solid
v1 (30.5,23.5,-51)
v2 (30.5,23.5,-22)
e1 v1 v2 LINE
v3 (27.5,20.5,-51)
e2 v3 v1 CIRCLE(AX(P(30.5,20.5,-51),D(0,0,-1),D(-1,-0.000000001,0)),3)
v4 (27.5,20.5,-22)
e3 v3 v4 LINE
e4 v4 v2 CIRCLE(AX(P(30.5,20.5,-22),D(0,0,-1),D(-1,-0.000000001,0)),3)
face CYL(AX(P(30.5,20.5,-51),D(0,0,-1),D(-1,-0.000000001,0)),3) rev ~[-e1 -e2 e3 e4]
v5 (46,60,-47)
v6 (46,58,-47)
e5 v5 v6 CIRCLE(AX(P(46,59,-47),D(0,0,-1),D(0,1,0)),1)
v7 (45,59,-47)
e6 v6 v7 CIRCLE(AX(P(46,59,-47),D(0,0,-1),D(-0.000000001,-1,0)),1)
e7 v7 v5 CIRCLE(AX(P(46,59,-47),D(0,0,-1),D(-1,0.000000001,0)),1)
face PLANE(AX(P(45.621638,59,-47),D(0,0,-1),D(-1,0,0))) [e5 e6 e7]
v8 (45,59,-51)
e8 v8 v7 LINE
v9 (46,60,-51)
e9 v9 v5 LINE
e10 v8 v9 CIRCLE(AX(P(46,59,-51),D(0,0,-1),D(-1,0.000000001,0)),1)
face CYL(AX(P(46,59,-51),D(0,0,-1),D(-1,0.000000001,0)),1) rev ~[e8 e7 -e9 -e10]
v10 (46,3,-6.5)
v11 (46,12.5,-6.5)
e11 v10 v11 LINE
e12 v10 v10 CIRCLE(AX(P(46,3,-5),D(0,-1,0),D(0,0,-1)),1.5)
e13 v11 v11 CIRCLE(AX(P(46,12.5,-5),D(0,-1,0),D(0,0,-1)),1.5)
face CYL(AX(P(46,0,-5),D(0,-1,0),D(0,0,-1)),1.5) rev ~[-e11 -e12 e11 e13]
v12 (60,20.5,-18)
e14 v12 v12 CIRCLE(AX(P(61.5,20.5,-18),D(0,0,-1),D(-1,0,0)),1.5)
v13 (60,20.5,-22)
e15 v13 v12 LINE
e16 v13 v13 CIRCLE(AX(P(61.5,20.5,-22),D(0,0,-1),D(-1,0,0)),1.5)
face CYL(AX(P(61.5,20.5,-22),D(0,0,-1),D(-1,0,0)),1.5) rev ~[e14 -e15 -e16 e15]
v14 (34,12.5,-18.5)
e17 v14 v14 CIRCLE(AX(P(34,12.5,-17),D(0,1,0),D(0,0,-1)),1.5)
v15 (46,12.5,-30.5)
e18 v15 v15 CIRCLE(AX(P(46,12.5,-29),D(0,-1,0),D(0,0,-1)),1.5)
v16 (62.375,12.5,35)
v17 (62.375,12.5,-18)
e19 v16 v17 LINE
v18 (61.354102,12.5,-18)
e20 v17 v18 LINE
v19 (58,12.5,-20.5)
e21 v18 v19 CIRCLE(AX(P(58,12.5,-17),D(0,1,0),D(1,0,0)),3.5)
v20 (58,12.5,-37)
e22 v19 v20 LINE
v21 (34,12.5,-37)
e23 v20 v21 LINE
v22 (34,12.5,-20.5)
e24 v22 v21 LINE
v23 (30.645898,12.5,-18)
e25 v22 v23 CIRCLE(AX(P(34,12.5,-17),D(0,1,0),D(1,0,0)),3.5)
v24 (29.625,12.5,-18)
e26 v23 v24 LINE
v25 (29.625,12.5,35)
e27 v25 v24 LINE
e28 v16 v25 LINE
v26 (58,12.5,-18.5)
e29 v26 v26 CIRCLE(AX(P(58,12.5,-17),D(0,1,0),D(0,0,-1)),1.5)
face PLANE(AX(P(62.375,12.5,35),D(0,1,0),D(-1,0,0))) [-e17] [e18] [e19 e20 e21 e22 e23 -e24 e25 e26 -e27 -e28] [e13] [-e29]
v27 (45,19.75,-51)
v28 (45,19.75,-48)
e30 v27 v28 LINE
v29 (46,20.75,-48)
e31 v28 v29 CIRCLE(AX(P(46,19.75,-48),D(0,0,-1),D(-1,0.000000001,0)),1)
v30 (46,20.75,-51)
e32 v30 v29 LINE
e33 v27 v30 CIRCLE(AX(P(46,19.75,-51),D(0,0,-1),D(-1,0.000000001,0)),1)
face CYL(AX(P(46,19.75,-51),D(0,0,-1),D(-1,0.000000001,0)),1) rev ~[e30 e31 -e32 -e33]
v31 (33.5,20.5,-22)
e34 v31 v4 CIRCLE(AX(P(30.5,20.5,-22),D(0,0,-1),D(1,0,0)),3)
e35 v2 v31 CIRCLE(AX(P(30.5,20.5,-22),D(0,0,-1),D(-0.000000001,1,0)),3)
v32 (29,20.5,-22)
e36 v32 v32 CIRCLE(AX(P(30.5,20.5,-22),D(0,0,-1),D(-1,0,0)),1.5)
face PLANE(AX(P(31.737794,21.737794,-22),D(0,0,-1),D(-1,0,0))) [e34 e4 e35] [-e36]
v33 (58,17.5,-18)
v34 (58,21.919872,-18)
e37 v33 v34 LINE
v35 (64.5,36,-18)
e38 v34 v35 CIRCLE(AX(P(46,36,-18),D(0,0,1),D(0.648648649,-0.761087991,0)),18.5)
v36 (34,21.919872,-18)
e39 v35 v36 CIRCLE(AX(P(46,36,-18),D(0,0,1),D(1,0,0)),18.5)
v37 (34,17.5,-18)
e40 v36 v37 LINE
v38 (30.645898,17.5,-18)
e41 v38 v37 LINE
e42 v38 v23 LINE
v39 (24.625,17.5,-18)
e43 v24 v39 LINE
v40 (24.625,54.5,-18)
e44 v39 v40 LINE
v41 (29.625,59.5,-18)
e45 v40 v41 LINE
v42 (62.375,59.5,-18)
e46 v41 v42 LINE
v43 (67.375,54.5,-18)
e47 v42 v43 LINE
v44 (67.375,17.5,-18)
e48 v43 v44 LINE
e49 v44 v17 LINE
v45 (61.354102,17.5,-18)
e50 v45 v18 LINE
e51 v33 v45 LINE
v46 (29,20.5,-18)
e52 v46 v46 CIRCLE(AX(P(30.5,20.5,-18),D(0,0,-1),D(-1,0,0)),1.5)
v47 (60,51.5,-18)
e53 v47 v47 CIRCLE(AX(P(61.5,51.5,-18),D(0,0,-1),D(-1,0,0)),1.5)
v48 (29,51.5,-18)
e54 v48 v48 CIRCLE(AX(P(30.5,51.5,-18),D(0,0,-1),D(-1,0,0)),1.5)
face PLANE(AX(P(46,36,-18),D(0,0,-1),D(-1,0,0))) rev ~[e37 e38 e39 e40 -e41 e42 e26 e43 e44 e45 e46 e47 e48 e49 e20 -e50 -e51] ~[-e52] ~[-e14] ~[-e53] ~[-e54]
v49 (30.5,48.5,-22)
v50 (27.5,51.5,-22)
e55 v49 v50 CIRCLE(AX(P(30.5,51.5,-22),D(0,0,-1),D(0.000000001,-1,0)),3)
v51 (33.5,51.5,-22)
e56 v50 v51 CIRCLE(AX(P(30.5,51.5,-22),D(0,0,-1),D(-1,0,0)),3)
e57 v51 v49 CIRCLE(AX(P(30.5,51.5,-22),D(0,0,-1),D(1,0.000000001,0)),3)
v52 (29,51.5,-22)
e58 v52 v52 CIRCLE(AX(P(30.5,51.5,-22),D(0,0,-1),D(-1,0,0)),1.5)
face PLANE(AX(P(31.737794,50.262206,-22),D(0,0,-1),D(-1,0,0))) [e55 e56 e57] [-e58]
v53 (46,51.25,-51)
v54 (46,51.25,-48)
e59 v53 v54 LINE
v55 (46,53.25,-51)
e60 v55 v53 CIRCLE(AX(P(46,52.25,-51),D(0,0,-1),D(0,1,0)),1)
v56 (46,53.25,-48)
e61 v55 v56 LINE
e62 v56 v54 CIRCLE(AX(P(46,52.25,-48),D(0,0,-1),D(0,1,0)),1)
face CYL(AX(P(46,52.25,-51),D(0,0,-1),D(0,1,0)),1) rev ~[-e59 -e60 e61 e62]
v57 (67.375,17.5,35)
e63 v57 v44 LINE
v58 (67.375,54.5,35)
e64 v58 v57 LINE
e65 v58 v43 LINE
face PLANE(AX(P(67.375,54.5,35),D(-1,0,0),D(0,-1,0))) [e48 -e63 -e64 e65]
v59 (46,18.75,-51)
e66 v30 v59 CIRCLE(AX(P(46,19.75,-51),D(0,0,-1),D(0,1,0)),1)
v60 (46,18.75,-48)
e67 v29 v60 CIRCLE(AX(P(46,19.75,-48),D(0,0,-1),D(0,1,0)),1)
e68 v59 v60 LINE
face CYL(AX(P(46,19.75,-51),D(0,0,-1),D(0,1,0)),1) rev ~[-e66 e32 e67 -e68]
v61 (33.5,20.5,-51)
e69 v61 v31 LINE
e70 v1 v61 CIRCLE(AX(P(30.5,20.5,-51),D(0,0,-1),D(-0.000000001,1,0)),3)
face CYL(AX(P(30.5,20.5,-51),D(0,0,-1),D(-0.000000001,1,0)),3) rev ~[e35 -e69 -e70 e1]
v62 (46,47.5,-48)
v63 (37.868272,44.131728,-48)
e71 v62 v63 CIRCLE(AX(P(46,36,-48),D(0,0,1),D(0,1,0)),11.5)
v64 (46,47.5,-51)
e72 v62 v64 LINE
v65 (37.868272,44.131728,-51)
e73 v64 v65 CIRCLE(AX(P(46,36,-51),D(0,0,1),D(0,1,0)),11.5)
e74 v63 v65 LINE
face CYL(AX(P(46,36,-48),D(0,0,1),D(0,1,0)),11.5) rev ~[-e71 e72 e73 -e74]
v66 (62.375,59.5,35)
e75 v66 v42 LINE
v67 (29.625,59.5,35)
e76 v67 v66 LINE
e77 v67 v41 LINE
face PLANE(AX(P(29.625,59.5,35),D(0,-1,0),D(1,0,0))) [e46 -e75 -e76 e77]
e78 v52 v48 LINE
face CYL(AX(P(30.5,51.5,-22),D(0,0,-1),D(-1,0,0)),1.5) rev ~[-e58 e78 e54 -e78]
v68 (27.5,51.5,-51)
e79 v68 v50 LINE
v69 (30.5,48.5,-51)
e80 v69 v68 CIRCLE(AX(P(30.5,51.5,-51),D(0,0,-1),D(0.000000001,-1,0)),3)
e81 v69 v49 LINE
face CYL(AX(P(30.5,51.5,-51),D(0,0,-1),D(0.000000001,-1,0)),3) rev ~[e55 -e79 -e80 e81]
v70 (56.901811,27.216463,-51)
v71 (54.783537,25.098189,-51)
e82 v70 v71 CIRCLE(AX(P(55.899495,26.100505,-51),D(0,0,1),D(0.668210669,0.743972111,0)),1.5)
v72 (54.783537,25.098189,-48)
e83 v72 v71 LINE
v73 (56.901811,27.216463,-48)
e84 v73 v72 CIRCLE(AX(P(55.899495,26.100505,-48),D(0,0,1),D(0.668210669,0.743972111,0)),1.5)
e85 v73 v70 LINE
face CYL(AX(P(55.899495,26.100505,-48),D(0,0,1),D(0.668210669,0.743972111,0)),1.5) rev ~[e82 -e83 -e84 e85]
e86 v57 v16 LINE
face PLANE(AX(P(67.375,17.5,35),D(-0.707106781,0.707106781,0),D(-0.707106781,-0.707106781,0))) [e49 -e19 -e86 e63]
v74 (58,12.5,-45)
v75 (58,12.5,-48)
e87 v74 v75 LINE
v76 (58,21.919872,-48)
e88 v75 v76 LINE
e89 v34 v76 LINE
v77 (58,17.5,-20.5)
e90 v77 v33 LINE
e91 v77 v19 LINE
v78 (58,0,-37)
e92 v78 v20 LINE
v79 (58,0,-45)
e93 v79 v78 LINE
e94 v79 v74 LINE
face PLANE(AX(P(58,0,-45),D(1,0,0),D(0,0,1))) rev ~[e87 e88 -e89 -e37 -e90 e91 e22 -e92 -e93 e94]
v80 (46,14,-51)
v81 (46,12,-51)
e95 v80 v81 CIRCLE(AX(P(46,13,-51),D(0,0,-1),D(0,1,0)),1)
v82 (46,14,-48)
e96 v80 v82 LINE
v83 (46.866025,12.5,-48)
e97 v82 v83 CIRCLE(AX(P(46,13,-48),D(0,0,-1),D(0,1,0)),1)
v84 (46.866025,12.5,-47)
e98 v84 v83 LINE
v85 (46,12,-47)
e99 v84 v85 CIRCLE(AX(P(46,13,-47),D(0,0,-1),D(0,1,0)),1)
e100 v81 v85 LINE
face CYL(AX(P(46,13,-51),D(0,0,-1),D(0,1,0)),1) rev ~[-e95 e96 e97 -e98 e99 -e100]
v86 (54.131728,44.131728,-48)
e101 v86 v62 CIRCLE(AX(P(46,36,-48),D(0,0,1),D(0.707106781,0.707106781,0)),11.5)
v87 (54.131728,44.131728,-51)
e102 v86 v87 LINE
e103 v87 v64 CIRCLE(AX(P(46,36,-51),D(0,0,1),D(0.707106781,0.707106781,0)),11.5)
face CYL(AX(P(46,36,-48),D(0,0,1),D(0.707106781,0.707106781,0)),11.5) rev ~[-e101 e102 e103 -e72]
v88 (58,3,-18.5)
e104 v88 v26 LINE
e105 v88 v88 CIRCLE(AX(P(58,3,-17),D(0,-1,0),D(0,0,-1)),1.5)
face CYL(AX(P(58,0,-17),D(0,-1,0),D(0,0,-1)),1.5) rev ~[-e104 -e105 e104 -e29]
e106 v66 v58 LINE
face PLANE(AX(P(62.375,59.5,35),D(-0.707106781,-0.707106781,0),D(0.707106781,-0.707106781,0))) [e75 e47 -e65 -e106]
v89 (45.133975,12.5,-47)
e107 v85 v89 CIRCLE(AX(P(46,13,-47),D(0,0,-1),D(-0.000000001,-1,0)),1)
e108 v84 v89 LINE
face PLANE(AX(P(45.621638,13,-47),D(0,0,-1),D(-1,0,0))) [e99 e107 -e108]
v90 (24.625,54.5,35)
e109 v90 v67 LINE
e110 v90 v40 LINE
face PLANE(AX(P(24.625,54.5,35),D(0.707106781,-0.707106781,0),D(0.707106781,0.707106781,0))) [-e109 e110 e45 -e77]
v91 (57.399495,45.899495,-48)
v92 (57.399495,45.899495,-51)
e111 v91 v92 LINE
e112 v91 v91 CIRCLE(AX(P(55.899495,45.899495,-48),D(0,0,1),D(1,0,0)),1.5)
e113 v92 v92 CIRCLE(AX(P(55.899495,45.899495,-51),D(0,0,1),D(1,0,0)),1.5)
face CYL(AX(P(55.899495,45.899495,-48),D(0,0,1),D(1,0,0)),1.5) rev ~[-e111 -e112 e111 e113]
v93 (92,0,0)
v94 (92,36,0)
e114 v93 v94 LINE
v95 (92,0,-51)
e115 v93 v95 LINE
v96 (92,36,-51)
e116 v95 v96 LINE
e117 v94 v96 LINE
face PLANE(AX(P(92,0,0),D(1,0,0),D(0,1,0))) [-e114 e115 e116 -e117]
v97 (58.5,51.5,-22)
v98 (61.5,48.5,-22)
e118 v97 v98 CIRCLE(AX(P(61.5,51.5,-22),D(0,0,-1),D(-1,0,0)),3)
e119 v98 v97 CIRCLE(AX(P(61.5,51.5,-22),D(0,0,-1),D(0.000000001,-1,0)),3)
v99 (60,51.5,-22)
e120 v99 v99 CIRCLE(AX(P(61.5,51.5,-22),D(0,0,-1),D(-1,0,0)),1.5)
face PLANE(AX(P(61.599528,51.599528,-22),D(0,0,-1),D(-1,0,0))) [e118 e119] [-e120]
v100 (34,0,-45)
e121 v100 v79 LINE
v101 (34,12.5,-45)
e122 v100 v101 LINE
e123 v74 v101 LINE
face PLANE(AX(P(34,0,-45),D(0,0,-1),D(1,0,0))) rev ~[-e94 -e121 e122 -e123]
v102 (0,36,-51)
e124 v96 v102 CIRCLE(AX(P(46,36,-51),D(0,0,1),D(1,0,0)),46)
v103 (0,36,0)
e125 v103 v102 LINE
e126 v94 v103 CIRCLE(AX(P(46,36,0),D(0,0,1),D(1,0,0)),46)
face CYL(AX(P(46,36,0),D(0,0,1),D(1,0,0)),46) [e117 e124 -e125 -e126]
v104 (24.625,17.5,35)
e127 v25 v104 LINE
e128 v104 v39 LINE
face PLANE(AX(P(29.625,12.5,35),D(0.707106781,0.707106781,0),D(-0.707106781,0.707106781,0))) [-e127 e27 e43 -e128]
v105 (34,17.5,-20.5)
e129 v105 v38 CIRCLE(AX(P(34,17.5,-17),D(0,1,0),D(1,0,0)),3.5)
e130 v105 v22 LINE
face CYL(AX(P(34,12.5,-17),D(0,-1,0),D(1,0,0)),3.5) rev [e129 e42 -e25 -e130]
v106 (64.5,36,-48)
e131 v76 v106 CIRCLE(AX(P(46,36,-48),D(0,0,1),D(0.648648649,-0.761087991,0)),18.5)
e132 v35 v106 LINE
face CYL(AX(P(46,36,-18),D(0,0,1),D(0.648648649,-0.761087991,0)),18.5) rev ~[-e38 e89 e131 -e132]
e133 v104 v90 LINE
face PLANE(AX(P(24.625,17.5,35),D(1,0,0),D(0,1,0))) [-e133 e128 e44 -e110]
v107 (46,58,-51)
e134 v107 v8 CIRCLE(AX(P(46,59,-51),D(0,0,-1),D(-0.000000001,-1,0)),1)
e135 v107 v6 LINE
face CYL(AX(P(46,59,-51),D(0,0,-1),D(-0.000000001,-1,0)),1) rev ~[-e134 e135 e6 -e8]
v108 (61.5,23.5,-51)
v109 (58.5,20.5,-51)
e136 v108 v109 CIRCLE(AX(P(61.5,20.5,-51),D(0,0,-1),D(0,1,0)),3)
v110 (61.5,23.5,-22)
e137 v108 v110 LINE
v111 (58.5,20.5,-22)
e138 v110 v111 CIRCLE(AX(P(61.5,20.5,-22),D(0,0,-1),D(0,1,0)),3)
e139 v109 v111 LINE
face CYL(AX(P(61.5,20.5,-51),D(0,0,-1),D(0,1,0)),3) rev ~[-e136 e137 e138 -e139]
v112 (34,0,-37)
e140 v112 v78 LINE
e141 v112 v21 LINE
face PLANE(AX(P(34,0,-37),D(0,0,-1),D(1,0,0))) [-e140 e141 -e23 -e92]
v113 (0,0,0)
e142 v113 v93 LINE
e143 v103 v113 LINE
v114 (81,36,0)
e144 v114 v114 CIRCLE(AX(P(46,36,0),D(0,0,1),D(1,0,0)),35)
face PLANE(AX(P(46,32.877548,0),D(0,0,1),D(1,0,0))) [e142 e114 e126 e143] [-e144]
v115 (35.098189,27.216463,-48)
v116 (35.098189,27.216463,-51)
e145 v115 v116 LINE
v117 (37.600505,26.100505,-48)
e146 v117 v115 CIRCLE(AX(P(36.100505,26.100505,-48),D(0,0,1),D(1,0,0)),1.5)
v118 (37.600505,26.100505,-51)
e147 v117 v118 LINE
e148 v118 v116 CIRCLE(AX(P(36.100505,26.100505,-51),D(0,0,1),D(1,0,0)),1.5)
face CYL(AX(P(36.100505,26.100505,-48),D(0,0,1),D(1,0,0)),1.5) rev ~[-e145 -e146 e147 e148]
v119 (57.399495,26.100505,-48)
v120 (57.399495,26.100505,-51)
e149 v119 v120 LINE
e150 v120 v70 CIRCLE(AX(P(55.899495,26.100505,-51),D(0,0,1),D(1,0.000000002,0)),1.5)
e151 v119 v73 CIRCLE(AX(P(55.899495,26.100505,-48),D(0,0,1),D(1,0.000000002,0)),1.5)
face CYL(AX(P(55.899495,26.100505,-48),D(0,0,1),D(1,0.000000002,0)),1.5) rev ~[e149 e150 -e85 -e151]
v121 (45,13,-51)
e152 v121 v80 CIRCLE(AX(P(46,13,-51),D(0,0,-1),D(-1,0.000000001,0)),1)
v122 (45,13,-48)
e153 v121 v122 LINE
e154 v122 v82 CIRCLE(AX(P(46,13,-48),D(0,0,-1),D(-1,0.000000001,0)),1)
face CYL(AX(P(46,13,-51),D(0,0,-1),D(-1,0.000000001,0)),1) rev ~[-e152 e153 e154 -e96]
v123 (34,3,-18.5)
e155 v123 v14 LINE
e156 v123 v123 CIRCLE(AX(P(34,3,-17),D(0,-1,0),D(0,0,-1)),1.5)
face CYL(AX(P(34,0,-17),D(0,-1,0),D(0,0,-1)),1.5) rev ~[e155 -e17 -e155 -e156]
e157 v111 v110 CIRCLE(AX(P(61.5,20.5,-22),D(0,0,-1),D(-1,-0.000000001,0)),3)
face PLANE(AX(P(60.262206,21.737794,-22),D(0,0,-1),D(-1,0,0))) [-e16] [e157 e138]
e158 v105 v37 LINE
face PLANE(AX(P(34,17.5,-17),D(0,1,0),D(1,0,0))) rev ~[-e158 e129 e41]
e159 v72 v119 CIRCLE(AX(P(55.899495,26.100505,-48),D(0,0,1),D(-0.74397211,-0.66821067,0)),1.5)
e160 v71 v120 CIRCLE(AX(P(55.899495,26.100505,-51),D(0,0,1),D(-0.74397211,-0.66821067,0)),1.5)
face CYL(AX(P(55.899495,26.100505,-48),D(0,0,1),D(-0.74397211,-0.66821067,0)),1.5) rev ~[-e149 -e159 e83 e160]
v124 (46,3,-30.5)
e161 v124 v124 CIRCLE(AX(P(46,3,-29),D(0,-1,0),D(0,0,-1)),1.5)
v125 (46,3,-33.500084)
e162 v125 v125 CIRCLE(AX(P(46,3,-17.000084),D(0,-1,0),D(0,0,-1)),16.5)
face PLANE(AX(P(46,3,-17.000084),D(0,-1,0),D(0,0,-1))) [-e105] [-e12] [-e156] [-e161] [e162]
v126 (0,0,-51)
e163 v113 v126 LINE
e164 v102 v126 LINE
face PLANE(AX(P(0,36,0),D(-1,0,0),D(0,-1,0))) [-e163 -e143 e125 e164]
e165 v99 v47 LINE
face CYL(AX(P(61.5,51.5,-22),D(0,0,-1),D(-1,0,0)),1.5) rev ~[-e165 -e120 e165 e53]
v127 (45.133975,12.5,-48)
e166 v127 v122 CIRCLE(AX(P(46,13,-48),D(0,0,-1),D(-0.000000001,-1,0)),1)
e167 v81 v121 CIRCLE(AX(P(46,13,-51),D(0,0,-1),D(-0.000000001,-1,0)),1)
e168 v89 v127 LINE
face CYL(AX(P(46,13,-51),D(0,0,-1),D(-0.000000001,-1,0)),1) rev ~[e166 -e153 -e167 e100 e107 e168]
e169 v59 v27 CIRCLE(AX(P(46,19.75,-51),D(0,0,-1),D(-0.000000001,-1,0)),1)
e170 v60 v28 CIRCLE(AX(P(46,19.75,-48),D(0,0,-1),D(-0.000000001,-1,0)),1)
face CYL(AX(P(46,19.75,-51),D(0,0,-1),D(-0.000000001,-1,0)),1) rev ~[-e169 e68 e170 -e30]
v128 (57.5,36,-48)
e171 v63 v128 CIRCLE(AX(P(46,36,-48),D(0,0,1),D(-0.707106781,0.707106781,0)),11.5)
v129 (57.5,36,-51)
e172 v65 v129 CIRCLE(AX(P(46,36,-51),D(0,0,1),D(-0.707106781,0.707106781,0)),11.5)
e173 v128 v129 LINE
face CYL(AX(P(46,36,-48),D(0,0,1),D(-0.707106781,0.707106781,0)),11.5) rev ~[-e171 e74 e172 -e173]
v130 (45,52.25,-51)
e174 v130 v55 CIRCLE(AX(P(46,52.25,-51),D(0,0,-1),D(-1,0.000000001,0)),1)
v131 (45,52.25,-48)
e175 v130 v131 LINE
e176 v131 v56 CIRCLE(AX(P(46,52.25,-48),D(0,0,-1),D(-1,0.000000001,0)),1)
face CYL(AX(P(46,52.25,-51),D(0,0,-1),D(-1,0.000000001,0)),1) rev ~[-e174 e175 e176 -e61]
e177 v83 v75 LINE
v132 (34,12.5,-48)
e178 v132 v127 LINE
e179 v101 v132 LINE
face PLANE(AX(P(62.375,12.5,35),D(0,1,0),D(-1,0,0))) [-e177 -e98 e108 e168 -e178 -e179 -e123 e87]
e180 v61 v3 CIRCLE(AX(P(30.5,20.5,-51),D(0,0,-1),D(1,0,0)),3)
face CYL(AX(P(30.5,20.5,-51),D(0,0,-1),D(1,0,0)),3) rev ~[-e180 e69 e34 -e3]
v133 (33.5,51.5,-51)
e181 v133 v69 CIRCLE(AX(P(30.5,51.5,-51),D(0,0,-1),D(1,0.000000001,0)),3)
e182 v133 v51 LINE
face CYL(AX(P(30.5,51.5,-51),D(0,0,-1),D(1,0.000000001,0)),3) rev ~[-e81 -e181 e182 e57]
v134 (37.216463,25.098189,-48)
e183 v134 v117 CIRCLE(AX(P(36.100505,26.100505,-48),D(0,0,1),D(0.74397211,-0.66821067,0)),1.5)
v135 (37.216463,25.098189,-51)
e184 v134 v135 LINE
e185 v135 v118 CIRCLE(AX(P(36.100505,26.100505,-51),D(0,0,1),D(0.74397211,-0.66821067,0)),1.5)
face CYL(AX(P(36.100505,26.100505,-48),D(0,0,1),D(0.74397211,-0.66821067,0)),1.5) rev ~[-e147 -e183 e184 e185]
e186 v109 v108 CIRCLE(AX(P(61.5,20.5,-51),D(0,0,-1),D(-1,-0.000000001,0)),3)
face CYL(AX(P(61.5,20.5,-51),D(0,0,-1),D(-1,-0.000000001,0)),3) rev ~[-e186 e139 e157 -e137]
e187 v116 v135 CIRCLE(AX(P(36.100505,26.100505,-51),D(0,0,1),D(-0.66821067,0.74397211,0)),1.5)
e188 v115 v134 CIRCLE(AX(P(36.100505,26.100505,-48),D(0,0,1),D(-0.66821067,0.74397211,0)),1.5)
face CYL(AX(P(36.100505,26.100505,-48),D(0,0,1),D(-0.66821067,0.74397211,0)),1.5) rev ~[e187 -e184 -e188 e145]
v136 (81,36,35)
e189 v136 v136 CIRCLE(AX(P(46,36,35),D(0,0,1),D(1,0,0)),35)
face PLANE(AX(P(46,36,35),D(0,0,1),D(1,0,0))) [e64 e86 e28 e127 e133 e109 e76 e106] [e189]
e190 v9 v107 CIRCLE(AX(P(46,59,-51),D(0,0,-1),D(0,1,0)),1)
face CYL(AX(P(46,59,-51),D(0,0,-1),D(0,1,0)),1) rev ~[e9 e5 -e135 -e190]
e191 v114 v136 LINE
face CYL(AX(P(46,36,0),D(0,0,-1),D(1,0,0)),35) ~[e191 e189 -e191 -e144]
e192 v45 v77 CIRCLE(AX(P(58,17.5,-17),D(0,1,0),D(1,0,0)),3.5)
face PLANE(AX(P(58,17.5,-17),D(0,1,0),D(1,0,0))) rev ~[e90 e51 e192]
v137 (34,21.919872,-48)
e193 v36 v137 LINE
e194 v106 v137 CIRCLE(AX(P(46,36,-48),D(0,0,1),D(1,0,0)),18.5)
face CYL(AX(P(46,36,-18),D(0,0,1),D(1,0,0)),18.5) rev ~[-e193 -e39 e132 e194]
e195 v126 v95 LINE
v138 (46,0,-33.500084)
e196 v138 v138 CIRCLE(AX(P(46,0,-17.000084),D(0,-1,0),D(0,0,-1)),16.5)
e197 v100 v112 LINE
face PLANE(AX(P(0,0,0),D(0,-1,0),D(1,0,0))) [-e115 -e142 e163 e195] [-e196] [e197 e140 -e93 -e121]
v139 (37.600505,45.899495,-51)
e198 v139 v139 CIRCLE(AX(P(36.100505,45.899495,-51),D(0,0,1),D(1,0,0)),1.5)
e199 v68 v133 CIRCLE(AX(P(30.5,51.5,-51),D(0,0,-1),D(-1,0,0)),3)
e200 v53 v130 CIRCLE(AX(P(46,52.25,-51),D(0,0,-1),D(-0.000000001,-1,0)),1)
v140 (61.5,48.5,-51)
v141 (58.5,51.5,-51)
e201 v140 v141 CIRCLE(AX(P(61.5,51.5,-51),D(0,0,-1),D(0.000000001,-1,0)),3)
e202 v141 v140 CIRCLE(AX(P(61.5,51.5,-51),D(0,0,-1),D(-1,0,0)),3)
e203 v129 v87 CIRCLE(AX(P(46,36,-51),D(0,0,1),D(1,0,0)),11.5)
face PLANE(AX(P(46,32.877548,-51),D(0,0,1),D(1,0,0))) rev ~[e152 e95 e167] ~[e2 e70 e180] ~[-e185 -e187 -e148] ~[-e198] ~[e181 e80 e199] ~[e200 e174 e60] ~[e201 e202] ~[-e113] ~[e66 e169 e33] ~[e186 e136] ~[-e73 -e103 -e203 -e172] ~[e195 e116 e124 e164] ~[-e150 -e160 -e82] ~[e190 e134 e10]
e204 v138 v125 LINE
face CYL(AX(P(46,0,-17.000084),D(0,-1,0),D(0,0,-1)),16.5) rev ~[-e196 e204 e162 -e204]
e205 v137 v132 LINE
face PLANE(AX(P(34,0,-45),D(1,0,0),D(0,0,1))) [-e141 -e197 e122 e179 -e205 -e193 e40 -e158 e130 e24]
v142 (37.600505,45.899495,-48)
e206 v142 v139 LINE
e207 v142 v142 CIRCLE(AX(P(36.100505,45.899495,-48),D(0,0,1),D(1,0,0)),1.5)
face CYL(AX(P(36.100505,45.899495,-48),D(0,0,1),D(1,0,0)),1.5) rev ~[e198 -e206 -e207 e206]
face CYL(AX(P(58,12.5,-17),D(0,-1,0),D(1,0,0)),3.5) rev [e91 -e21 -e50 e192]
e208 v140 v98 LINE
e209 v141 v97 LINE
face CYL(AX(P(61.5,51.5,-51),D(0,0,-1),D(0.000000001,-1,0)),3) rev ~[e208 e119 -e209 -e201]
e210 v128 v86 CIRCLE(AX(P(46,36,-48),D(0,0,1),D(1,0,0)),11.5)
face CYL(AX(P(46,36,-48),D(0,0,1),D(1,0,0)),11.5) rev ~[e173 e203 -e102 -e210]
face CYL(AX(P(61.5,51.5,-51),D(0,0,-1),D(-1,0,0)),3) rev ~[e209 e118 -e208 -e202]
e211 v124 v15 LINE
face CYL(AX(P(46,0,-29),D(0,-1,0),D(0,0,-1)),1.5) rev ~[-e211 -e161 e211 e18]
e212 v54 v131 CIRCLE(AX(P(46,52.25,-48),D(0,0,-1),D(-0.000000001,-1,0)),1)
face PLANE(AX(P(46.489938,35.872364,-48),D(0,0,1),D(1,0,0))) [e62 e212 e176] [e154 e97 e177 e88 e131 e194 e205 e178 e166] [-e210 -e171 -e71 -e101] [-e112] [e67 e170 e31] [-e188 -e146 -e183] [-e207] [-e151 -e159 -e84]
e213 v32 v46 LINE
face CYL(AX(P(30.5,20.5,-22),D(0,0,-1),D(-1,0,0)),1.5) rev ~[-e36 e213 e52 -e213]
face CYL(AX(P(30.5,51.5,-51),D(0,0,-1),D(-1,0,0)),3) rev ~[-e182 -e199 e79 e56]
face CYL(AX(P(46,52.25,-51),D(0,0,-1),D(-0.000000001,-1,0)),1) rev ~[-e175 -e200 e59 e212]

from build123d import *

# Parameters (mm, degrees)
SALIENTE_EXTRUIR1_DEPTH = 51
CROQUIS2_R              = 35
SALIENTE_EXTRUIR3_DEPTH = 35
CORTAR_EXTRUIR1_DEPTH   = 53
CORTAR_EXTRUIR2_DEPTH   = 30
CROQUIS6_R              = 1.5
CORTAR_EXTRUIR3_DEPTH   = 27
CORTAR_EXTRUIR4_DEPTH   = 29
CROQUIS8_R              = 1.5
CORTAR_EXTRUIR5_DEPTH   = 136.782914978
CORTAR_EXTRUIR6_DEPTH   = 4
CROQUIS10_R             = 1.5
CORTAR_EXTRUIR7_DEPTH   = 12.5
CROQUIS11_W             = 24
CROQUIS11_H             = 8
CORTAR_EXTRUIR8_DEPTH   = 18
CROQUIS12_R             = 3.5
CORTAR_EXTRUIR9_DEPTH   = 5
CROQUIS13_R             = 16.5
CORTAR_EXTRUIR10_DEPTH  = 3


with BuildPart() as part:
    # Croquis1 → Saliente-Extruir1 (new body)
    with BuildSketch(Plane.XY):
        with BuildLine():
            Line((0, 0), (92, 0))
            Line((92, 0), (92, 36))
            ThreePointArc((92, 36), (46, 82), (0, 36))
            Line((0, 36), (0, 0))
        make_face()
    extrude(amount=-SALIENTE_EXTRUIR1_DEPTH)

    # Croquis2 → Saliente-Extruir3 (add)
    with BuildSketch(Plane.XY):
        with Locations((46, 36)):
            Circle(CROQUIS2_R)
    extrude(amount=SALIENTE_EXTRUIR3_DEPTH)

    # Croquis4 → Cortar-Extruir1 (cut)
    with BuildSketch(Plane.XY.offset(35)):
        Polygon((24.625, 54.5), (29.625, 59.5), (62.375, 59.5), (67.375, 54.5), (67.375, 17.5), (62.375, 12.5), (29.625, 12.5), (24.625, 17.5), align=None)
    extrude(amount=-CORTAR_EXTRUIR1_DEPTH, mode=Mode.SUBTRACT)

    # Croquis5 → Cortar-Extruir2 (cut)
    with BuildSketch(Plane.XY.offset(-18)):
        with BuildLine():
            ThreePointArc((64.5, 36), (38.24596879, 52.796577032), (34, 21.91987216))
            Line((34, 21.91987216), (58, 21.91987216))
            ThreePointArc((58, 21.91987216), (62.796577032, 28.24596879), (64.5, 36))
        make_face()
        with BuildLine():
            Line((58, 21.91987216), (34, 21.91987216))
            ThreePointArc((34, 21.91987216), (46, 17.5), (58, 21.91987216))
        make_face()
        with BuildLine():
            Line((34, 21.91987216), (34, 12.5))
            Line((34, 12.5), (58, 12.5))
            Line((58, 12.5), (58, 21.91987216))
            ThreePointArc((58, 21.91987216), (46, 17.5), (34, 21.91987216))
        make_face()
    extrude(amount=-CORTAR_EXTRUIR2_DEPTH, mode=Mode.SUBTRACT)

    # Croquis6 → Cortar-Extruir3 (cut)
    with BuildSketch(Plane.XY.offset(-48)):
        with BuildLine():
            ThreePointArc((37.600505063, 26.100505063), (36.711457596, 27.470445574), (35.098189059, 27.216463229))
            ThreePointArc((35.098189059, 27.216463229), (36.100505063, 26.100505063), (37.216463229, 25.098189059))
            ThreePointArc((37.216463229, 25.098189059), (37.501207967, 25.563819517), (37.600505063, 26.100505063))
        make_face()
        with BuildLine():
            ThreePointArc((37.216463229, 25.098189059), (36.100505063, 26.100505063), (35.098189059, 27.216463229))
            ThreePointArc((35.098189059, 27.216463229), (35.039844892, 25.039844892), (37.216463229, 25.098189059))
        make_face()
        with BuildLine():
            ThreePointArc((57.399494937, 26.100505063), (57.269435447, 26.711457596), (56.901810941, 27.216463229))
            ThreePointArc((56.901810941, 27.216463229), (55.899494937, 26.100505063), (54.783536771, 25.098189059))
            ThreePointArc((54.783536771, 25.098189059), (56.436180483, 24.69980216), (57.399494937, 26.100505063))
        make_face()
        with BuildLine():
            ThreePointArc((54.783536771, 25.098189059), (55.899494937, 26.100505063), (56.901810941, 27.216463229))
            ThreePointArc((56.901810941, 27.216463229), (54.838834765, 27.161165235), (54.783536771, 25.098189059))
        make_face()
        with Locations((55.899494937, 45.899494937)):
            Circle(CROQUIS6_R)
        with BuildLine():
            Line((54.131727984, 44.131727984), (46, 36))
            Line((46, 36), (37.868272016, 44.131727984))
            ThreePointArc((37.868272016, 44.131727984), (41.599140528, 25.375385376), (57.5, 36))
            ThreePointArc((57.5, 36), (56.624614624, 40.400859472), (54.131727984, 44.131727984))
        make_face()
        with BuildLine():
            Line((46, 47.5), (46, 36))
            Line((46, 36), (54.131727984, 44.131727984))
            ThreePointArc((54.131727984, 44.131727984), (50.400859472, 46.624614624), (46, 47.5))
        make_face()
        with BuildLine():
            Line((37.868272016, 44.131727984), (46, 36))
            Line((46, 36), (46, 47.5))
            ThreePointArc((46, 47.5), (41.599140528, 46.624614624), (37.868272016, 44.131727984))
        make_face()
        with Locations((36.100505063, 45.899494937)):
            Circle(CROQUIS6_R)
    extrude(amount=-CORTAR_EXTRUIR3_DEPTH, mode=Mode.SUBTRACT)

    # Croquis7 → Cortar-Extruir4 (cut)
    with BuildSketch(Plane(origin=(0, 0, -51), x_dir=(-1, 0, 0), z_dir=(0, 0, -1))):
        with BuildLine():
            ThreePointArc((-58.5, 51.5), (-63.621320344, 53.621320344), (-61.5, 48.5))
            Line((-61.5, 48.5), (-61.5, 51.5))
            Line((-61.5, 51.5), (-58.5, 51.5))
        make_face()
        with BuildLine():
            Line((-61.5, 51.5), (-61.5, 48.5))
            ThreePointArc((-61.5, 48.5), (-59.378679656, 49.378679656), (-58.5, 51.5))
            Line((-58.5, 51.5), (-61.5, 51.5))
        make_face()
        with BuildLine():
            Line((-61.5, 23.5), (-61.5, 20.5))
            Line((-61.5, 20.5), (-58.5, 20.5))
            ThreePointArc((-58.5, 20.5), (-59.378679656, 22.621320344), (-61.5, 23.5))
        make_face()
        with BuildLine():
            Line((-58.5, 20.5), (-61.5, 20.5))
            Line((-61.5, 20.5), (-61.5, 23.5))
            ThreePointArc((-61.5, 23.5), (-63.621320344, 18.378679656), (-58.5, 20.5))
        make_face()
        with BuildLine():
            ThreePointArc((-30.5, 23.5), (-32.621320344, 22.621320344), (-33.5, 20.5))
            Line((-33.5, 20.5), (-30.5, 20.5))
            Line((-30.5, 20.5), (-30.5, 23.5))
        make_face()
        with BuildLine():
            Line((-30.5, 20.5), (-33.5, 20.5))
            ThreePointArc((-33.5, 20.5), (-30.5, 17.5), (-27.5, 20.5))
            ThreePointArc((-27.5, 20.5), (-28.378679656, 22.621320344), (-30.5, 23.5))
            Line((-30.5, 23.5), (-30.5, 20.5))
        make_face()
        with BuildLine():
            ThreePointArc((-33.5, 51.5), (-32.621320344, 49.378679656), (-30.5, 48.5))
            Line((-30.5, 48.5), (-30.5, 51.5))
            Line((-30.5, 51.5), (-33.5, 51.5))
        make_face()
        with BuildLine():
            Line((-30.5, 51.5), (-30.5, 48.5))
            ThreePointArc((-30.5, 48.5), (-28.378679656, 49.378679656), (-27.5, 51.5))
            ThreePointArc((-27.5, 51.5), (-30.5, 54.5), (-33.5, 51.5))
            Line((-33.5, 51.5), (-30.5, 51.5))
        make_face()
    extrude(amount=-CORTAR_EXTRUIR4_DEPTH, mode=Mode.SUBTRACT)

    # Croquis8 → Cortar-Extruir5 (cut, through all)
    with BuildSketch(Plane(origin=(0, 0, -22), x_dir=(-1, 0, 0), z_dir=(0, 0, -1))):
        with Locations((-61.5, 51.5)):
            Circle(CROQUIS8_R)
        with Locations((-30.5, 51.5)):
            Circle(CROQUIS8_R)
        with Locations((-30.5, 20.5)):
            Circle(CROQUIS8_R)
        with Locations((-61.5, 20.5)):
            Circle(CROQUIS8_R)
    extrude(amount=-CORTAR_EXTRUIR5_DEPTH, mode=Mode.SUBTRACT)

    # Croquis9 → Cortar-Extruir6 (cut)
    with BuildSketch(Plane(origin=(0, 0, -51), x_dir=(-1, 0, 0), z_dir=(0, 0, -1))):
        with BuildLine():
            ThreePointArc((-45, 59), (-45.292893219, 59.707106781), (-46, 60))
            Line((-46, 60), (-46, 58))
            ThreePointArc((-46, 58), (-45.292893219, 58.292893219), (-45, 59))
        make_face()
        with BuildLine():
            Line((-46, 58), (-46, 60))
            ThreePointArc((-46, 60), (-47, 59), (-46, 58))
        make_face()
        with BuildLine():
            ThreePointArc((-45, 52.25), (-45.292893219, 52.957106781), (-46, 53.25))
            Line((-46, 53.25), (-46, 51.25))
            ThreePointArc((-46, 51.25), (-45.292893219, 51.542893219), (-45, 52.25))
        make_face()
        with BuildLine():
            Line((-46, 51.25), (-46, 53.25))
            ThreePointArc((-46, 53.25), (-47, 52.25), (-46, 51.25))
        make_face()
        with BuildLine():
            ThreePointArc((-45, 19.75), (-45.292893219, 20.457106781), (-46, 20.75))
            Line((-46, 20.75), (-46, 18.75))
            ThreePointArc((-46, 18.75), (-45.292893219, 19.042893219), (-45, 19.75))
        make_face()
        with BuildLine():
            Line((-46, 18.75), (-46, 20.75))
            ThreePointArc((-46, 20.75), (-47, 19.75), (-46, 18.75))
        make_face()
        with BuildLine():
            ThreePointArc((-45, 13), (-45.292893219, 13.707106781), (-46, 14))
            Line((-46, 14), (-46, 12))
            ThreePointArc((-46, 12), (-45.292893219, 12.292893219), (-45, 13))
        make_face()
        with BuildLine():
            Line((-46, 12), (-46, 14))
            ThreePointArc((-46, 14), (-47, 13), (-46, 12))
        make_face()
    extrude(amount=-CORTAR_EXTRUIR6_DEPTH, mode=Mode.SUBTRACT)

    # Croquis10 → Cortar-Extruir7 (cut)
    with BuildSketch(Plane.XZ):
        with Locations(Location((46, -5, 0), (0, 0, 270))):
            Circle(CROQUIS10_R)
        with Locations(Location((58, -17, 0), (0, 0, 270))):
            Circle(CROQUIS10_R)
        with Locations(Location((46, -29, 0), (0, 0, 270))):
            Circle(CROQUIS10_R)
        with Locations(Location((34, -17, 0), (0, 0, 270))):
            Circle(CROQUIS10_R)
    extrude(amount=-CORTAR_EXTRUIR7_DEPTH, mode=Mode.SUBTRACT)

    # Croquis11 → Cortar-Extruir8 (cut)
    with BuildSketch(Plane.XZ):
        with Locations((46, -41)):
            Rectangle(CROQUIS11_W, CROQUIS11_H)
    extrude(amount=-CORTAR_EXTRUIR8_DEPTH, mode=Mode.SUBTRACT)

    # Croquis12 → Cortar-Extruir9 (cut)
    with BuildSketch(Plane(origin=(0, 12.5, 0), x_dir=(1, 0, 0), z_dir=(0, 1, 0))):
        with Locations((34, 17)):
            Circle(CROQUIS12_R)
        with Locations((58, 17)):
            Circle(CROQUIS12_R)
    extrude(amount=CORTAR_EXTRUIR9_DEPTH, mode=Mode.SUBTRACT)

    # Croquis13 → Cortar-Extruir10 (cut)
    with BuildSketch(Plane.XZ):
        with Locations(Location((46, -17.000083543, 0), (0, 0, 270))):
            Circle(CROQUIS13_R)
    extrude(amount=-CORTAR_EXTRUIR10_DEPTH, mode=Mode.SUBTRACT)


solid = part.part
